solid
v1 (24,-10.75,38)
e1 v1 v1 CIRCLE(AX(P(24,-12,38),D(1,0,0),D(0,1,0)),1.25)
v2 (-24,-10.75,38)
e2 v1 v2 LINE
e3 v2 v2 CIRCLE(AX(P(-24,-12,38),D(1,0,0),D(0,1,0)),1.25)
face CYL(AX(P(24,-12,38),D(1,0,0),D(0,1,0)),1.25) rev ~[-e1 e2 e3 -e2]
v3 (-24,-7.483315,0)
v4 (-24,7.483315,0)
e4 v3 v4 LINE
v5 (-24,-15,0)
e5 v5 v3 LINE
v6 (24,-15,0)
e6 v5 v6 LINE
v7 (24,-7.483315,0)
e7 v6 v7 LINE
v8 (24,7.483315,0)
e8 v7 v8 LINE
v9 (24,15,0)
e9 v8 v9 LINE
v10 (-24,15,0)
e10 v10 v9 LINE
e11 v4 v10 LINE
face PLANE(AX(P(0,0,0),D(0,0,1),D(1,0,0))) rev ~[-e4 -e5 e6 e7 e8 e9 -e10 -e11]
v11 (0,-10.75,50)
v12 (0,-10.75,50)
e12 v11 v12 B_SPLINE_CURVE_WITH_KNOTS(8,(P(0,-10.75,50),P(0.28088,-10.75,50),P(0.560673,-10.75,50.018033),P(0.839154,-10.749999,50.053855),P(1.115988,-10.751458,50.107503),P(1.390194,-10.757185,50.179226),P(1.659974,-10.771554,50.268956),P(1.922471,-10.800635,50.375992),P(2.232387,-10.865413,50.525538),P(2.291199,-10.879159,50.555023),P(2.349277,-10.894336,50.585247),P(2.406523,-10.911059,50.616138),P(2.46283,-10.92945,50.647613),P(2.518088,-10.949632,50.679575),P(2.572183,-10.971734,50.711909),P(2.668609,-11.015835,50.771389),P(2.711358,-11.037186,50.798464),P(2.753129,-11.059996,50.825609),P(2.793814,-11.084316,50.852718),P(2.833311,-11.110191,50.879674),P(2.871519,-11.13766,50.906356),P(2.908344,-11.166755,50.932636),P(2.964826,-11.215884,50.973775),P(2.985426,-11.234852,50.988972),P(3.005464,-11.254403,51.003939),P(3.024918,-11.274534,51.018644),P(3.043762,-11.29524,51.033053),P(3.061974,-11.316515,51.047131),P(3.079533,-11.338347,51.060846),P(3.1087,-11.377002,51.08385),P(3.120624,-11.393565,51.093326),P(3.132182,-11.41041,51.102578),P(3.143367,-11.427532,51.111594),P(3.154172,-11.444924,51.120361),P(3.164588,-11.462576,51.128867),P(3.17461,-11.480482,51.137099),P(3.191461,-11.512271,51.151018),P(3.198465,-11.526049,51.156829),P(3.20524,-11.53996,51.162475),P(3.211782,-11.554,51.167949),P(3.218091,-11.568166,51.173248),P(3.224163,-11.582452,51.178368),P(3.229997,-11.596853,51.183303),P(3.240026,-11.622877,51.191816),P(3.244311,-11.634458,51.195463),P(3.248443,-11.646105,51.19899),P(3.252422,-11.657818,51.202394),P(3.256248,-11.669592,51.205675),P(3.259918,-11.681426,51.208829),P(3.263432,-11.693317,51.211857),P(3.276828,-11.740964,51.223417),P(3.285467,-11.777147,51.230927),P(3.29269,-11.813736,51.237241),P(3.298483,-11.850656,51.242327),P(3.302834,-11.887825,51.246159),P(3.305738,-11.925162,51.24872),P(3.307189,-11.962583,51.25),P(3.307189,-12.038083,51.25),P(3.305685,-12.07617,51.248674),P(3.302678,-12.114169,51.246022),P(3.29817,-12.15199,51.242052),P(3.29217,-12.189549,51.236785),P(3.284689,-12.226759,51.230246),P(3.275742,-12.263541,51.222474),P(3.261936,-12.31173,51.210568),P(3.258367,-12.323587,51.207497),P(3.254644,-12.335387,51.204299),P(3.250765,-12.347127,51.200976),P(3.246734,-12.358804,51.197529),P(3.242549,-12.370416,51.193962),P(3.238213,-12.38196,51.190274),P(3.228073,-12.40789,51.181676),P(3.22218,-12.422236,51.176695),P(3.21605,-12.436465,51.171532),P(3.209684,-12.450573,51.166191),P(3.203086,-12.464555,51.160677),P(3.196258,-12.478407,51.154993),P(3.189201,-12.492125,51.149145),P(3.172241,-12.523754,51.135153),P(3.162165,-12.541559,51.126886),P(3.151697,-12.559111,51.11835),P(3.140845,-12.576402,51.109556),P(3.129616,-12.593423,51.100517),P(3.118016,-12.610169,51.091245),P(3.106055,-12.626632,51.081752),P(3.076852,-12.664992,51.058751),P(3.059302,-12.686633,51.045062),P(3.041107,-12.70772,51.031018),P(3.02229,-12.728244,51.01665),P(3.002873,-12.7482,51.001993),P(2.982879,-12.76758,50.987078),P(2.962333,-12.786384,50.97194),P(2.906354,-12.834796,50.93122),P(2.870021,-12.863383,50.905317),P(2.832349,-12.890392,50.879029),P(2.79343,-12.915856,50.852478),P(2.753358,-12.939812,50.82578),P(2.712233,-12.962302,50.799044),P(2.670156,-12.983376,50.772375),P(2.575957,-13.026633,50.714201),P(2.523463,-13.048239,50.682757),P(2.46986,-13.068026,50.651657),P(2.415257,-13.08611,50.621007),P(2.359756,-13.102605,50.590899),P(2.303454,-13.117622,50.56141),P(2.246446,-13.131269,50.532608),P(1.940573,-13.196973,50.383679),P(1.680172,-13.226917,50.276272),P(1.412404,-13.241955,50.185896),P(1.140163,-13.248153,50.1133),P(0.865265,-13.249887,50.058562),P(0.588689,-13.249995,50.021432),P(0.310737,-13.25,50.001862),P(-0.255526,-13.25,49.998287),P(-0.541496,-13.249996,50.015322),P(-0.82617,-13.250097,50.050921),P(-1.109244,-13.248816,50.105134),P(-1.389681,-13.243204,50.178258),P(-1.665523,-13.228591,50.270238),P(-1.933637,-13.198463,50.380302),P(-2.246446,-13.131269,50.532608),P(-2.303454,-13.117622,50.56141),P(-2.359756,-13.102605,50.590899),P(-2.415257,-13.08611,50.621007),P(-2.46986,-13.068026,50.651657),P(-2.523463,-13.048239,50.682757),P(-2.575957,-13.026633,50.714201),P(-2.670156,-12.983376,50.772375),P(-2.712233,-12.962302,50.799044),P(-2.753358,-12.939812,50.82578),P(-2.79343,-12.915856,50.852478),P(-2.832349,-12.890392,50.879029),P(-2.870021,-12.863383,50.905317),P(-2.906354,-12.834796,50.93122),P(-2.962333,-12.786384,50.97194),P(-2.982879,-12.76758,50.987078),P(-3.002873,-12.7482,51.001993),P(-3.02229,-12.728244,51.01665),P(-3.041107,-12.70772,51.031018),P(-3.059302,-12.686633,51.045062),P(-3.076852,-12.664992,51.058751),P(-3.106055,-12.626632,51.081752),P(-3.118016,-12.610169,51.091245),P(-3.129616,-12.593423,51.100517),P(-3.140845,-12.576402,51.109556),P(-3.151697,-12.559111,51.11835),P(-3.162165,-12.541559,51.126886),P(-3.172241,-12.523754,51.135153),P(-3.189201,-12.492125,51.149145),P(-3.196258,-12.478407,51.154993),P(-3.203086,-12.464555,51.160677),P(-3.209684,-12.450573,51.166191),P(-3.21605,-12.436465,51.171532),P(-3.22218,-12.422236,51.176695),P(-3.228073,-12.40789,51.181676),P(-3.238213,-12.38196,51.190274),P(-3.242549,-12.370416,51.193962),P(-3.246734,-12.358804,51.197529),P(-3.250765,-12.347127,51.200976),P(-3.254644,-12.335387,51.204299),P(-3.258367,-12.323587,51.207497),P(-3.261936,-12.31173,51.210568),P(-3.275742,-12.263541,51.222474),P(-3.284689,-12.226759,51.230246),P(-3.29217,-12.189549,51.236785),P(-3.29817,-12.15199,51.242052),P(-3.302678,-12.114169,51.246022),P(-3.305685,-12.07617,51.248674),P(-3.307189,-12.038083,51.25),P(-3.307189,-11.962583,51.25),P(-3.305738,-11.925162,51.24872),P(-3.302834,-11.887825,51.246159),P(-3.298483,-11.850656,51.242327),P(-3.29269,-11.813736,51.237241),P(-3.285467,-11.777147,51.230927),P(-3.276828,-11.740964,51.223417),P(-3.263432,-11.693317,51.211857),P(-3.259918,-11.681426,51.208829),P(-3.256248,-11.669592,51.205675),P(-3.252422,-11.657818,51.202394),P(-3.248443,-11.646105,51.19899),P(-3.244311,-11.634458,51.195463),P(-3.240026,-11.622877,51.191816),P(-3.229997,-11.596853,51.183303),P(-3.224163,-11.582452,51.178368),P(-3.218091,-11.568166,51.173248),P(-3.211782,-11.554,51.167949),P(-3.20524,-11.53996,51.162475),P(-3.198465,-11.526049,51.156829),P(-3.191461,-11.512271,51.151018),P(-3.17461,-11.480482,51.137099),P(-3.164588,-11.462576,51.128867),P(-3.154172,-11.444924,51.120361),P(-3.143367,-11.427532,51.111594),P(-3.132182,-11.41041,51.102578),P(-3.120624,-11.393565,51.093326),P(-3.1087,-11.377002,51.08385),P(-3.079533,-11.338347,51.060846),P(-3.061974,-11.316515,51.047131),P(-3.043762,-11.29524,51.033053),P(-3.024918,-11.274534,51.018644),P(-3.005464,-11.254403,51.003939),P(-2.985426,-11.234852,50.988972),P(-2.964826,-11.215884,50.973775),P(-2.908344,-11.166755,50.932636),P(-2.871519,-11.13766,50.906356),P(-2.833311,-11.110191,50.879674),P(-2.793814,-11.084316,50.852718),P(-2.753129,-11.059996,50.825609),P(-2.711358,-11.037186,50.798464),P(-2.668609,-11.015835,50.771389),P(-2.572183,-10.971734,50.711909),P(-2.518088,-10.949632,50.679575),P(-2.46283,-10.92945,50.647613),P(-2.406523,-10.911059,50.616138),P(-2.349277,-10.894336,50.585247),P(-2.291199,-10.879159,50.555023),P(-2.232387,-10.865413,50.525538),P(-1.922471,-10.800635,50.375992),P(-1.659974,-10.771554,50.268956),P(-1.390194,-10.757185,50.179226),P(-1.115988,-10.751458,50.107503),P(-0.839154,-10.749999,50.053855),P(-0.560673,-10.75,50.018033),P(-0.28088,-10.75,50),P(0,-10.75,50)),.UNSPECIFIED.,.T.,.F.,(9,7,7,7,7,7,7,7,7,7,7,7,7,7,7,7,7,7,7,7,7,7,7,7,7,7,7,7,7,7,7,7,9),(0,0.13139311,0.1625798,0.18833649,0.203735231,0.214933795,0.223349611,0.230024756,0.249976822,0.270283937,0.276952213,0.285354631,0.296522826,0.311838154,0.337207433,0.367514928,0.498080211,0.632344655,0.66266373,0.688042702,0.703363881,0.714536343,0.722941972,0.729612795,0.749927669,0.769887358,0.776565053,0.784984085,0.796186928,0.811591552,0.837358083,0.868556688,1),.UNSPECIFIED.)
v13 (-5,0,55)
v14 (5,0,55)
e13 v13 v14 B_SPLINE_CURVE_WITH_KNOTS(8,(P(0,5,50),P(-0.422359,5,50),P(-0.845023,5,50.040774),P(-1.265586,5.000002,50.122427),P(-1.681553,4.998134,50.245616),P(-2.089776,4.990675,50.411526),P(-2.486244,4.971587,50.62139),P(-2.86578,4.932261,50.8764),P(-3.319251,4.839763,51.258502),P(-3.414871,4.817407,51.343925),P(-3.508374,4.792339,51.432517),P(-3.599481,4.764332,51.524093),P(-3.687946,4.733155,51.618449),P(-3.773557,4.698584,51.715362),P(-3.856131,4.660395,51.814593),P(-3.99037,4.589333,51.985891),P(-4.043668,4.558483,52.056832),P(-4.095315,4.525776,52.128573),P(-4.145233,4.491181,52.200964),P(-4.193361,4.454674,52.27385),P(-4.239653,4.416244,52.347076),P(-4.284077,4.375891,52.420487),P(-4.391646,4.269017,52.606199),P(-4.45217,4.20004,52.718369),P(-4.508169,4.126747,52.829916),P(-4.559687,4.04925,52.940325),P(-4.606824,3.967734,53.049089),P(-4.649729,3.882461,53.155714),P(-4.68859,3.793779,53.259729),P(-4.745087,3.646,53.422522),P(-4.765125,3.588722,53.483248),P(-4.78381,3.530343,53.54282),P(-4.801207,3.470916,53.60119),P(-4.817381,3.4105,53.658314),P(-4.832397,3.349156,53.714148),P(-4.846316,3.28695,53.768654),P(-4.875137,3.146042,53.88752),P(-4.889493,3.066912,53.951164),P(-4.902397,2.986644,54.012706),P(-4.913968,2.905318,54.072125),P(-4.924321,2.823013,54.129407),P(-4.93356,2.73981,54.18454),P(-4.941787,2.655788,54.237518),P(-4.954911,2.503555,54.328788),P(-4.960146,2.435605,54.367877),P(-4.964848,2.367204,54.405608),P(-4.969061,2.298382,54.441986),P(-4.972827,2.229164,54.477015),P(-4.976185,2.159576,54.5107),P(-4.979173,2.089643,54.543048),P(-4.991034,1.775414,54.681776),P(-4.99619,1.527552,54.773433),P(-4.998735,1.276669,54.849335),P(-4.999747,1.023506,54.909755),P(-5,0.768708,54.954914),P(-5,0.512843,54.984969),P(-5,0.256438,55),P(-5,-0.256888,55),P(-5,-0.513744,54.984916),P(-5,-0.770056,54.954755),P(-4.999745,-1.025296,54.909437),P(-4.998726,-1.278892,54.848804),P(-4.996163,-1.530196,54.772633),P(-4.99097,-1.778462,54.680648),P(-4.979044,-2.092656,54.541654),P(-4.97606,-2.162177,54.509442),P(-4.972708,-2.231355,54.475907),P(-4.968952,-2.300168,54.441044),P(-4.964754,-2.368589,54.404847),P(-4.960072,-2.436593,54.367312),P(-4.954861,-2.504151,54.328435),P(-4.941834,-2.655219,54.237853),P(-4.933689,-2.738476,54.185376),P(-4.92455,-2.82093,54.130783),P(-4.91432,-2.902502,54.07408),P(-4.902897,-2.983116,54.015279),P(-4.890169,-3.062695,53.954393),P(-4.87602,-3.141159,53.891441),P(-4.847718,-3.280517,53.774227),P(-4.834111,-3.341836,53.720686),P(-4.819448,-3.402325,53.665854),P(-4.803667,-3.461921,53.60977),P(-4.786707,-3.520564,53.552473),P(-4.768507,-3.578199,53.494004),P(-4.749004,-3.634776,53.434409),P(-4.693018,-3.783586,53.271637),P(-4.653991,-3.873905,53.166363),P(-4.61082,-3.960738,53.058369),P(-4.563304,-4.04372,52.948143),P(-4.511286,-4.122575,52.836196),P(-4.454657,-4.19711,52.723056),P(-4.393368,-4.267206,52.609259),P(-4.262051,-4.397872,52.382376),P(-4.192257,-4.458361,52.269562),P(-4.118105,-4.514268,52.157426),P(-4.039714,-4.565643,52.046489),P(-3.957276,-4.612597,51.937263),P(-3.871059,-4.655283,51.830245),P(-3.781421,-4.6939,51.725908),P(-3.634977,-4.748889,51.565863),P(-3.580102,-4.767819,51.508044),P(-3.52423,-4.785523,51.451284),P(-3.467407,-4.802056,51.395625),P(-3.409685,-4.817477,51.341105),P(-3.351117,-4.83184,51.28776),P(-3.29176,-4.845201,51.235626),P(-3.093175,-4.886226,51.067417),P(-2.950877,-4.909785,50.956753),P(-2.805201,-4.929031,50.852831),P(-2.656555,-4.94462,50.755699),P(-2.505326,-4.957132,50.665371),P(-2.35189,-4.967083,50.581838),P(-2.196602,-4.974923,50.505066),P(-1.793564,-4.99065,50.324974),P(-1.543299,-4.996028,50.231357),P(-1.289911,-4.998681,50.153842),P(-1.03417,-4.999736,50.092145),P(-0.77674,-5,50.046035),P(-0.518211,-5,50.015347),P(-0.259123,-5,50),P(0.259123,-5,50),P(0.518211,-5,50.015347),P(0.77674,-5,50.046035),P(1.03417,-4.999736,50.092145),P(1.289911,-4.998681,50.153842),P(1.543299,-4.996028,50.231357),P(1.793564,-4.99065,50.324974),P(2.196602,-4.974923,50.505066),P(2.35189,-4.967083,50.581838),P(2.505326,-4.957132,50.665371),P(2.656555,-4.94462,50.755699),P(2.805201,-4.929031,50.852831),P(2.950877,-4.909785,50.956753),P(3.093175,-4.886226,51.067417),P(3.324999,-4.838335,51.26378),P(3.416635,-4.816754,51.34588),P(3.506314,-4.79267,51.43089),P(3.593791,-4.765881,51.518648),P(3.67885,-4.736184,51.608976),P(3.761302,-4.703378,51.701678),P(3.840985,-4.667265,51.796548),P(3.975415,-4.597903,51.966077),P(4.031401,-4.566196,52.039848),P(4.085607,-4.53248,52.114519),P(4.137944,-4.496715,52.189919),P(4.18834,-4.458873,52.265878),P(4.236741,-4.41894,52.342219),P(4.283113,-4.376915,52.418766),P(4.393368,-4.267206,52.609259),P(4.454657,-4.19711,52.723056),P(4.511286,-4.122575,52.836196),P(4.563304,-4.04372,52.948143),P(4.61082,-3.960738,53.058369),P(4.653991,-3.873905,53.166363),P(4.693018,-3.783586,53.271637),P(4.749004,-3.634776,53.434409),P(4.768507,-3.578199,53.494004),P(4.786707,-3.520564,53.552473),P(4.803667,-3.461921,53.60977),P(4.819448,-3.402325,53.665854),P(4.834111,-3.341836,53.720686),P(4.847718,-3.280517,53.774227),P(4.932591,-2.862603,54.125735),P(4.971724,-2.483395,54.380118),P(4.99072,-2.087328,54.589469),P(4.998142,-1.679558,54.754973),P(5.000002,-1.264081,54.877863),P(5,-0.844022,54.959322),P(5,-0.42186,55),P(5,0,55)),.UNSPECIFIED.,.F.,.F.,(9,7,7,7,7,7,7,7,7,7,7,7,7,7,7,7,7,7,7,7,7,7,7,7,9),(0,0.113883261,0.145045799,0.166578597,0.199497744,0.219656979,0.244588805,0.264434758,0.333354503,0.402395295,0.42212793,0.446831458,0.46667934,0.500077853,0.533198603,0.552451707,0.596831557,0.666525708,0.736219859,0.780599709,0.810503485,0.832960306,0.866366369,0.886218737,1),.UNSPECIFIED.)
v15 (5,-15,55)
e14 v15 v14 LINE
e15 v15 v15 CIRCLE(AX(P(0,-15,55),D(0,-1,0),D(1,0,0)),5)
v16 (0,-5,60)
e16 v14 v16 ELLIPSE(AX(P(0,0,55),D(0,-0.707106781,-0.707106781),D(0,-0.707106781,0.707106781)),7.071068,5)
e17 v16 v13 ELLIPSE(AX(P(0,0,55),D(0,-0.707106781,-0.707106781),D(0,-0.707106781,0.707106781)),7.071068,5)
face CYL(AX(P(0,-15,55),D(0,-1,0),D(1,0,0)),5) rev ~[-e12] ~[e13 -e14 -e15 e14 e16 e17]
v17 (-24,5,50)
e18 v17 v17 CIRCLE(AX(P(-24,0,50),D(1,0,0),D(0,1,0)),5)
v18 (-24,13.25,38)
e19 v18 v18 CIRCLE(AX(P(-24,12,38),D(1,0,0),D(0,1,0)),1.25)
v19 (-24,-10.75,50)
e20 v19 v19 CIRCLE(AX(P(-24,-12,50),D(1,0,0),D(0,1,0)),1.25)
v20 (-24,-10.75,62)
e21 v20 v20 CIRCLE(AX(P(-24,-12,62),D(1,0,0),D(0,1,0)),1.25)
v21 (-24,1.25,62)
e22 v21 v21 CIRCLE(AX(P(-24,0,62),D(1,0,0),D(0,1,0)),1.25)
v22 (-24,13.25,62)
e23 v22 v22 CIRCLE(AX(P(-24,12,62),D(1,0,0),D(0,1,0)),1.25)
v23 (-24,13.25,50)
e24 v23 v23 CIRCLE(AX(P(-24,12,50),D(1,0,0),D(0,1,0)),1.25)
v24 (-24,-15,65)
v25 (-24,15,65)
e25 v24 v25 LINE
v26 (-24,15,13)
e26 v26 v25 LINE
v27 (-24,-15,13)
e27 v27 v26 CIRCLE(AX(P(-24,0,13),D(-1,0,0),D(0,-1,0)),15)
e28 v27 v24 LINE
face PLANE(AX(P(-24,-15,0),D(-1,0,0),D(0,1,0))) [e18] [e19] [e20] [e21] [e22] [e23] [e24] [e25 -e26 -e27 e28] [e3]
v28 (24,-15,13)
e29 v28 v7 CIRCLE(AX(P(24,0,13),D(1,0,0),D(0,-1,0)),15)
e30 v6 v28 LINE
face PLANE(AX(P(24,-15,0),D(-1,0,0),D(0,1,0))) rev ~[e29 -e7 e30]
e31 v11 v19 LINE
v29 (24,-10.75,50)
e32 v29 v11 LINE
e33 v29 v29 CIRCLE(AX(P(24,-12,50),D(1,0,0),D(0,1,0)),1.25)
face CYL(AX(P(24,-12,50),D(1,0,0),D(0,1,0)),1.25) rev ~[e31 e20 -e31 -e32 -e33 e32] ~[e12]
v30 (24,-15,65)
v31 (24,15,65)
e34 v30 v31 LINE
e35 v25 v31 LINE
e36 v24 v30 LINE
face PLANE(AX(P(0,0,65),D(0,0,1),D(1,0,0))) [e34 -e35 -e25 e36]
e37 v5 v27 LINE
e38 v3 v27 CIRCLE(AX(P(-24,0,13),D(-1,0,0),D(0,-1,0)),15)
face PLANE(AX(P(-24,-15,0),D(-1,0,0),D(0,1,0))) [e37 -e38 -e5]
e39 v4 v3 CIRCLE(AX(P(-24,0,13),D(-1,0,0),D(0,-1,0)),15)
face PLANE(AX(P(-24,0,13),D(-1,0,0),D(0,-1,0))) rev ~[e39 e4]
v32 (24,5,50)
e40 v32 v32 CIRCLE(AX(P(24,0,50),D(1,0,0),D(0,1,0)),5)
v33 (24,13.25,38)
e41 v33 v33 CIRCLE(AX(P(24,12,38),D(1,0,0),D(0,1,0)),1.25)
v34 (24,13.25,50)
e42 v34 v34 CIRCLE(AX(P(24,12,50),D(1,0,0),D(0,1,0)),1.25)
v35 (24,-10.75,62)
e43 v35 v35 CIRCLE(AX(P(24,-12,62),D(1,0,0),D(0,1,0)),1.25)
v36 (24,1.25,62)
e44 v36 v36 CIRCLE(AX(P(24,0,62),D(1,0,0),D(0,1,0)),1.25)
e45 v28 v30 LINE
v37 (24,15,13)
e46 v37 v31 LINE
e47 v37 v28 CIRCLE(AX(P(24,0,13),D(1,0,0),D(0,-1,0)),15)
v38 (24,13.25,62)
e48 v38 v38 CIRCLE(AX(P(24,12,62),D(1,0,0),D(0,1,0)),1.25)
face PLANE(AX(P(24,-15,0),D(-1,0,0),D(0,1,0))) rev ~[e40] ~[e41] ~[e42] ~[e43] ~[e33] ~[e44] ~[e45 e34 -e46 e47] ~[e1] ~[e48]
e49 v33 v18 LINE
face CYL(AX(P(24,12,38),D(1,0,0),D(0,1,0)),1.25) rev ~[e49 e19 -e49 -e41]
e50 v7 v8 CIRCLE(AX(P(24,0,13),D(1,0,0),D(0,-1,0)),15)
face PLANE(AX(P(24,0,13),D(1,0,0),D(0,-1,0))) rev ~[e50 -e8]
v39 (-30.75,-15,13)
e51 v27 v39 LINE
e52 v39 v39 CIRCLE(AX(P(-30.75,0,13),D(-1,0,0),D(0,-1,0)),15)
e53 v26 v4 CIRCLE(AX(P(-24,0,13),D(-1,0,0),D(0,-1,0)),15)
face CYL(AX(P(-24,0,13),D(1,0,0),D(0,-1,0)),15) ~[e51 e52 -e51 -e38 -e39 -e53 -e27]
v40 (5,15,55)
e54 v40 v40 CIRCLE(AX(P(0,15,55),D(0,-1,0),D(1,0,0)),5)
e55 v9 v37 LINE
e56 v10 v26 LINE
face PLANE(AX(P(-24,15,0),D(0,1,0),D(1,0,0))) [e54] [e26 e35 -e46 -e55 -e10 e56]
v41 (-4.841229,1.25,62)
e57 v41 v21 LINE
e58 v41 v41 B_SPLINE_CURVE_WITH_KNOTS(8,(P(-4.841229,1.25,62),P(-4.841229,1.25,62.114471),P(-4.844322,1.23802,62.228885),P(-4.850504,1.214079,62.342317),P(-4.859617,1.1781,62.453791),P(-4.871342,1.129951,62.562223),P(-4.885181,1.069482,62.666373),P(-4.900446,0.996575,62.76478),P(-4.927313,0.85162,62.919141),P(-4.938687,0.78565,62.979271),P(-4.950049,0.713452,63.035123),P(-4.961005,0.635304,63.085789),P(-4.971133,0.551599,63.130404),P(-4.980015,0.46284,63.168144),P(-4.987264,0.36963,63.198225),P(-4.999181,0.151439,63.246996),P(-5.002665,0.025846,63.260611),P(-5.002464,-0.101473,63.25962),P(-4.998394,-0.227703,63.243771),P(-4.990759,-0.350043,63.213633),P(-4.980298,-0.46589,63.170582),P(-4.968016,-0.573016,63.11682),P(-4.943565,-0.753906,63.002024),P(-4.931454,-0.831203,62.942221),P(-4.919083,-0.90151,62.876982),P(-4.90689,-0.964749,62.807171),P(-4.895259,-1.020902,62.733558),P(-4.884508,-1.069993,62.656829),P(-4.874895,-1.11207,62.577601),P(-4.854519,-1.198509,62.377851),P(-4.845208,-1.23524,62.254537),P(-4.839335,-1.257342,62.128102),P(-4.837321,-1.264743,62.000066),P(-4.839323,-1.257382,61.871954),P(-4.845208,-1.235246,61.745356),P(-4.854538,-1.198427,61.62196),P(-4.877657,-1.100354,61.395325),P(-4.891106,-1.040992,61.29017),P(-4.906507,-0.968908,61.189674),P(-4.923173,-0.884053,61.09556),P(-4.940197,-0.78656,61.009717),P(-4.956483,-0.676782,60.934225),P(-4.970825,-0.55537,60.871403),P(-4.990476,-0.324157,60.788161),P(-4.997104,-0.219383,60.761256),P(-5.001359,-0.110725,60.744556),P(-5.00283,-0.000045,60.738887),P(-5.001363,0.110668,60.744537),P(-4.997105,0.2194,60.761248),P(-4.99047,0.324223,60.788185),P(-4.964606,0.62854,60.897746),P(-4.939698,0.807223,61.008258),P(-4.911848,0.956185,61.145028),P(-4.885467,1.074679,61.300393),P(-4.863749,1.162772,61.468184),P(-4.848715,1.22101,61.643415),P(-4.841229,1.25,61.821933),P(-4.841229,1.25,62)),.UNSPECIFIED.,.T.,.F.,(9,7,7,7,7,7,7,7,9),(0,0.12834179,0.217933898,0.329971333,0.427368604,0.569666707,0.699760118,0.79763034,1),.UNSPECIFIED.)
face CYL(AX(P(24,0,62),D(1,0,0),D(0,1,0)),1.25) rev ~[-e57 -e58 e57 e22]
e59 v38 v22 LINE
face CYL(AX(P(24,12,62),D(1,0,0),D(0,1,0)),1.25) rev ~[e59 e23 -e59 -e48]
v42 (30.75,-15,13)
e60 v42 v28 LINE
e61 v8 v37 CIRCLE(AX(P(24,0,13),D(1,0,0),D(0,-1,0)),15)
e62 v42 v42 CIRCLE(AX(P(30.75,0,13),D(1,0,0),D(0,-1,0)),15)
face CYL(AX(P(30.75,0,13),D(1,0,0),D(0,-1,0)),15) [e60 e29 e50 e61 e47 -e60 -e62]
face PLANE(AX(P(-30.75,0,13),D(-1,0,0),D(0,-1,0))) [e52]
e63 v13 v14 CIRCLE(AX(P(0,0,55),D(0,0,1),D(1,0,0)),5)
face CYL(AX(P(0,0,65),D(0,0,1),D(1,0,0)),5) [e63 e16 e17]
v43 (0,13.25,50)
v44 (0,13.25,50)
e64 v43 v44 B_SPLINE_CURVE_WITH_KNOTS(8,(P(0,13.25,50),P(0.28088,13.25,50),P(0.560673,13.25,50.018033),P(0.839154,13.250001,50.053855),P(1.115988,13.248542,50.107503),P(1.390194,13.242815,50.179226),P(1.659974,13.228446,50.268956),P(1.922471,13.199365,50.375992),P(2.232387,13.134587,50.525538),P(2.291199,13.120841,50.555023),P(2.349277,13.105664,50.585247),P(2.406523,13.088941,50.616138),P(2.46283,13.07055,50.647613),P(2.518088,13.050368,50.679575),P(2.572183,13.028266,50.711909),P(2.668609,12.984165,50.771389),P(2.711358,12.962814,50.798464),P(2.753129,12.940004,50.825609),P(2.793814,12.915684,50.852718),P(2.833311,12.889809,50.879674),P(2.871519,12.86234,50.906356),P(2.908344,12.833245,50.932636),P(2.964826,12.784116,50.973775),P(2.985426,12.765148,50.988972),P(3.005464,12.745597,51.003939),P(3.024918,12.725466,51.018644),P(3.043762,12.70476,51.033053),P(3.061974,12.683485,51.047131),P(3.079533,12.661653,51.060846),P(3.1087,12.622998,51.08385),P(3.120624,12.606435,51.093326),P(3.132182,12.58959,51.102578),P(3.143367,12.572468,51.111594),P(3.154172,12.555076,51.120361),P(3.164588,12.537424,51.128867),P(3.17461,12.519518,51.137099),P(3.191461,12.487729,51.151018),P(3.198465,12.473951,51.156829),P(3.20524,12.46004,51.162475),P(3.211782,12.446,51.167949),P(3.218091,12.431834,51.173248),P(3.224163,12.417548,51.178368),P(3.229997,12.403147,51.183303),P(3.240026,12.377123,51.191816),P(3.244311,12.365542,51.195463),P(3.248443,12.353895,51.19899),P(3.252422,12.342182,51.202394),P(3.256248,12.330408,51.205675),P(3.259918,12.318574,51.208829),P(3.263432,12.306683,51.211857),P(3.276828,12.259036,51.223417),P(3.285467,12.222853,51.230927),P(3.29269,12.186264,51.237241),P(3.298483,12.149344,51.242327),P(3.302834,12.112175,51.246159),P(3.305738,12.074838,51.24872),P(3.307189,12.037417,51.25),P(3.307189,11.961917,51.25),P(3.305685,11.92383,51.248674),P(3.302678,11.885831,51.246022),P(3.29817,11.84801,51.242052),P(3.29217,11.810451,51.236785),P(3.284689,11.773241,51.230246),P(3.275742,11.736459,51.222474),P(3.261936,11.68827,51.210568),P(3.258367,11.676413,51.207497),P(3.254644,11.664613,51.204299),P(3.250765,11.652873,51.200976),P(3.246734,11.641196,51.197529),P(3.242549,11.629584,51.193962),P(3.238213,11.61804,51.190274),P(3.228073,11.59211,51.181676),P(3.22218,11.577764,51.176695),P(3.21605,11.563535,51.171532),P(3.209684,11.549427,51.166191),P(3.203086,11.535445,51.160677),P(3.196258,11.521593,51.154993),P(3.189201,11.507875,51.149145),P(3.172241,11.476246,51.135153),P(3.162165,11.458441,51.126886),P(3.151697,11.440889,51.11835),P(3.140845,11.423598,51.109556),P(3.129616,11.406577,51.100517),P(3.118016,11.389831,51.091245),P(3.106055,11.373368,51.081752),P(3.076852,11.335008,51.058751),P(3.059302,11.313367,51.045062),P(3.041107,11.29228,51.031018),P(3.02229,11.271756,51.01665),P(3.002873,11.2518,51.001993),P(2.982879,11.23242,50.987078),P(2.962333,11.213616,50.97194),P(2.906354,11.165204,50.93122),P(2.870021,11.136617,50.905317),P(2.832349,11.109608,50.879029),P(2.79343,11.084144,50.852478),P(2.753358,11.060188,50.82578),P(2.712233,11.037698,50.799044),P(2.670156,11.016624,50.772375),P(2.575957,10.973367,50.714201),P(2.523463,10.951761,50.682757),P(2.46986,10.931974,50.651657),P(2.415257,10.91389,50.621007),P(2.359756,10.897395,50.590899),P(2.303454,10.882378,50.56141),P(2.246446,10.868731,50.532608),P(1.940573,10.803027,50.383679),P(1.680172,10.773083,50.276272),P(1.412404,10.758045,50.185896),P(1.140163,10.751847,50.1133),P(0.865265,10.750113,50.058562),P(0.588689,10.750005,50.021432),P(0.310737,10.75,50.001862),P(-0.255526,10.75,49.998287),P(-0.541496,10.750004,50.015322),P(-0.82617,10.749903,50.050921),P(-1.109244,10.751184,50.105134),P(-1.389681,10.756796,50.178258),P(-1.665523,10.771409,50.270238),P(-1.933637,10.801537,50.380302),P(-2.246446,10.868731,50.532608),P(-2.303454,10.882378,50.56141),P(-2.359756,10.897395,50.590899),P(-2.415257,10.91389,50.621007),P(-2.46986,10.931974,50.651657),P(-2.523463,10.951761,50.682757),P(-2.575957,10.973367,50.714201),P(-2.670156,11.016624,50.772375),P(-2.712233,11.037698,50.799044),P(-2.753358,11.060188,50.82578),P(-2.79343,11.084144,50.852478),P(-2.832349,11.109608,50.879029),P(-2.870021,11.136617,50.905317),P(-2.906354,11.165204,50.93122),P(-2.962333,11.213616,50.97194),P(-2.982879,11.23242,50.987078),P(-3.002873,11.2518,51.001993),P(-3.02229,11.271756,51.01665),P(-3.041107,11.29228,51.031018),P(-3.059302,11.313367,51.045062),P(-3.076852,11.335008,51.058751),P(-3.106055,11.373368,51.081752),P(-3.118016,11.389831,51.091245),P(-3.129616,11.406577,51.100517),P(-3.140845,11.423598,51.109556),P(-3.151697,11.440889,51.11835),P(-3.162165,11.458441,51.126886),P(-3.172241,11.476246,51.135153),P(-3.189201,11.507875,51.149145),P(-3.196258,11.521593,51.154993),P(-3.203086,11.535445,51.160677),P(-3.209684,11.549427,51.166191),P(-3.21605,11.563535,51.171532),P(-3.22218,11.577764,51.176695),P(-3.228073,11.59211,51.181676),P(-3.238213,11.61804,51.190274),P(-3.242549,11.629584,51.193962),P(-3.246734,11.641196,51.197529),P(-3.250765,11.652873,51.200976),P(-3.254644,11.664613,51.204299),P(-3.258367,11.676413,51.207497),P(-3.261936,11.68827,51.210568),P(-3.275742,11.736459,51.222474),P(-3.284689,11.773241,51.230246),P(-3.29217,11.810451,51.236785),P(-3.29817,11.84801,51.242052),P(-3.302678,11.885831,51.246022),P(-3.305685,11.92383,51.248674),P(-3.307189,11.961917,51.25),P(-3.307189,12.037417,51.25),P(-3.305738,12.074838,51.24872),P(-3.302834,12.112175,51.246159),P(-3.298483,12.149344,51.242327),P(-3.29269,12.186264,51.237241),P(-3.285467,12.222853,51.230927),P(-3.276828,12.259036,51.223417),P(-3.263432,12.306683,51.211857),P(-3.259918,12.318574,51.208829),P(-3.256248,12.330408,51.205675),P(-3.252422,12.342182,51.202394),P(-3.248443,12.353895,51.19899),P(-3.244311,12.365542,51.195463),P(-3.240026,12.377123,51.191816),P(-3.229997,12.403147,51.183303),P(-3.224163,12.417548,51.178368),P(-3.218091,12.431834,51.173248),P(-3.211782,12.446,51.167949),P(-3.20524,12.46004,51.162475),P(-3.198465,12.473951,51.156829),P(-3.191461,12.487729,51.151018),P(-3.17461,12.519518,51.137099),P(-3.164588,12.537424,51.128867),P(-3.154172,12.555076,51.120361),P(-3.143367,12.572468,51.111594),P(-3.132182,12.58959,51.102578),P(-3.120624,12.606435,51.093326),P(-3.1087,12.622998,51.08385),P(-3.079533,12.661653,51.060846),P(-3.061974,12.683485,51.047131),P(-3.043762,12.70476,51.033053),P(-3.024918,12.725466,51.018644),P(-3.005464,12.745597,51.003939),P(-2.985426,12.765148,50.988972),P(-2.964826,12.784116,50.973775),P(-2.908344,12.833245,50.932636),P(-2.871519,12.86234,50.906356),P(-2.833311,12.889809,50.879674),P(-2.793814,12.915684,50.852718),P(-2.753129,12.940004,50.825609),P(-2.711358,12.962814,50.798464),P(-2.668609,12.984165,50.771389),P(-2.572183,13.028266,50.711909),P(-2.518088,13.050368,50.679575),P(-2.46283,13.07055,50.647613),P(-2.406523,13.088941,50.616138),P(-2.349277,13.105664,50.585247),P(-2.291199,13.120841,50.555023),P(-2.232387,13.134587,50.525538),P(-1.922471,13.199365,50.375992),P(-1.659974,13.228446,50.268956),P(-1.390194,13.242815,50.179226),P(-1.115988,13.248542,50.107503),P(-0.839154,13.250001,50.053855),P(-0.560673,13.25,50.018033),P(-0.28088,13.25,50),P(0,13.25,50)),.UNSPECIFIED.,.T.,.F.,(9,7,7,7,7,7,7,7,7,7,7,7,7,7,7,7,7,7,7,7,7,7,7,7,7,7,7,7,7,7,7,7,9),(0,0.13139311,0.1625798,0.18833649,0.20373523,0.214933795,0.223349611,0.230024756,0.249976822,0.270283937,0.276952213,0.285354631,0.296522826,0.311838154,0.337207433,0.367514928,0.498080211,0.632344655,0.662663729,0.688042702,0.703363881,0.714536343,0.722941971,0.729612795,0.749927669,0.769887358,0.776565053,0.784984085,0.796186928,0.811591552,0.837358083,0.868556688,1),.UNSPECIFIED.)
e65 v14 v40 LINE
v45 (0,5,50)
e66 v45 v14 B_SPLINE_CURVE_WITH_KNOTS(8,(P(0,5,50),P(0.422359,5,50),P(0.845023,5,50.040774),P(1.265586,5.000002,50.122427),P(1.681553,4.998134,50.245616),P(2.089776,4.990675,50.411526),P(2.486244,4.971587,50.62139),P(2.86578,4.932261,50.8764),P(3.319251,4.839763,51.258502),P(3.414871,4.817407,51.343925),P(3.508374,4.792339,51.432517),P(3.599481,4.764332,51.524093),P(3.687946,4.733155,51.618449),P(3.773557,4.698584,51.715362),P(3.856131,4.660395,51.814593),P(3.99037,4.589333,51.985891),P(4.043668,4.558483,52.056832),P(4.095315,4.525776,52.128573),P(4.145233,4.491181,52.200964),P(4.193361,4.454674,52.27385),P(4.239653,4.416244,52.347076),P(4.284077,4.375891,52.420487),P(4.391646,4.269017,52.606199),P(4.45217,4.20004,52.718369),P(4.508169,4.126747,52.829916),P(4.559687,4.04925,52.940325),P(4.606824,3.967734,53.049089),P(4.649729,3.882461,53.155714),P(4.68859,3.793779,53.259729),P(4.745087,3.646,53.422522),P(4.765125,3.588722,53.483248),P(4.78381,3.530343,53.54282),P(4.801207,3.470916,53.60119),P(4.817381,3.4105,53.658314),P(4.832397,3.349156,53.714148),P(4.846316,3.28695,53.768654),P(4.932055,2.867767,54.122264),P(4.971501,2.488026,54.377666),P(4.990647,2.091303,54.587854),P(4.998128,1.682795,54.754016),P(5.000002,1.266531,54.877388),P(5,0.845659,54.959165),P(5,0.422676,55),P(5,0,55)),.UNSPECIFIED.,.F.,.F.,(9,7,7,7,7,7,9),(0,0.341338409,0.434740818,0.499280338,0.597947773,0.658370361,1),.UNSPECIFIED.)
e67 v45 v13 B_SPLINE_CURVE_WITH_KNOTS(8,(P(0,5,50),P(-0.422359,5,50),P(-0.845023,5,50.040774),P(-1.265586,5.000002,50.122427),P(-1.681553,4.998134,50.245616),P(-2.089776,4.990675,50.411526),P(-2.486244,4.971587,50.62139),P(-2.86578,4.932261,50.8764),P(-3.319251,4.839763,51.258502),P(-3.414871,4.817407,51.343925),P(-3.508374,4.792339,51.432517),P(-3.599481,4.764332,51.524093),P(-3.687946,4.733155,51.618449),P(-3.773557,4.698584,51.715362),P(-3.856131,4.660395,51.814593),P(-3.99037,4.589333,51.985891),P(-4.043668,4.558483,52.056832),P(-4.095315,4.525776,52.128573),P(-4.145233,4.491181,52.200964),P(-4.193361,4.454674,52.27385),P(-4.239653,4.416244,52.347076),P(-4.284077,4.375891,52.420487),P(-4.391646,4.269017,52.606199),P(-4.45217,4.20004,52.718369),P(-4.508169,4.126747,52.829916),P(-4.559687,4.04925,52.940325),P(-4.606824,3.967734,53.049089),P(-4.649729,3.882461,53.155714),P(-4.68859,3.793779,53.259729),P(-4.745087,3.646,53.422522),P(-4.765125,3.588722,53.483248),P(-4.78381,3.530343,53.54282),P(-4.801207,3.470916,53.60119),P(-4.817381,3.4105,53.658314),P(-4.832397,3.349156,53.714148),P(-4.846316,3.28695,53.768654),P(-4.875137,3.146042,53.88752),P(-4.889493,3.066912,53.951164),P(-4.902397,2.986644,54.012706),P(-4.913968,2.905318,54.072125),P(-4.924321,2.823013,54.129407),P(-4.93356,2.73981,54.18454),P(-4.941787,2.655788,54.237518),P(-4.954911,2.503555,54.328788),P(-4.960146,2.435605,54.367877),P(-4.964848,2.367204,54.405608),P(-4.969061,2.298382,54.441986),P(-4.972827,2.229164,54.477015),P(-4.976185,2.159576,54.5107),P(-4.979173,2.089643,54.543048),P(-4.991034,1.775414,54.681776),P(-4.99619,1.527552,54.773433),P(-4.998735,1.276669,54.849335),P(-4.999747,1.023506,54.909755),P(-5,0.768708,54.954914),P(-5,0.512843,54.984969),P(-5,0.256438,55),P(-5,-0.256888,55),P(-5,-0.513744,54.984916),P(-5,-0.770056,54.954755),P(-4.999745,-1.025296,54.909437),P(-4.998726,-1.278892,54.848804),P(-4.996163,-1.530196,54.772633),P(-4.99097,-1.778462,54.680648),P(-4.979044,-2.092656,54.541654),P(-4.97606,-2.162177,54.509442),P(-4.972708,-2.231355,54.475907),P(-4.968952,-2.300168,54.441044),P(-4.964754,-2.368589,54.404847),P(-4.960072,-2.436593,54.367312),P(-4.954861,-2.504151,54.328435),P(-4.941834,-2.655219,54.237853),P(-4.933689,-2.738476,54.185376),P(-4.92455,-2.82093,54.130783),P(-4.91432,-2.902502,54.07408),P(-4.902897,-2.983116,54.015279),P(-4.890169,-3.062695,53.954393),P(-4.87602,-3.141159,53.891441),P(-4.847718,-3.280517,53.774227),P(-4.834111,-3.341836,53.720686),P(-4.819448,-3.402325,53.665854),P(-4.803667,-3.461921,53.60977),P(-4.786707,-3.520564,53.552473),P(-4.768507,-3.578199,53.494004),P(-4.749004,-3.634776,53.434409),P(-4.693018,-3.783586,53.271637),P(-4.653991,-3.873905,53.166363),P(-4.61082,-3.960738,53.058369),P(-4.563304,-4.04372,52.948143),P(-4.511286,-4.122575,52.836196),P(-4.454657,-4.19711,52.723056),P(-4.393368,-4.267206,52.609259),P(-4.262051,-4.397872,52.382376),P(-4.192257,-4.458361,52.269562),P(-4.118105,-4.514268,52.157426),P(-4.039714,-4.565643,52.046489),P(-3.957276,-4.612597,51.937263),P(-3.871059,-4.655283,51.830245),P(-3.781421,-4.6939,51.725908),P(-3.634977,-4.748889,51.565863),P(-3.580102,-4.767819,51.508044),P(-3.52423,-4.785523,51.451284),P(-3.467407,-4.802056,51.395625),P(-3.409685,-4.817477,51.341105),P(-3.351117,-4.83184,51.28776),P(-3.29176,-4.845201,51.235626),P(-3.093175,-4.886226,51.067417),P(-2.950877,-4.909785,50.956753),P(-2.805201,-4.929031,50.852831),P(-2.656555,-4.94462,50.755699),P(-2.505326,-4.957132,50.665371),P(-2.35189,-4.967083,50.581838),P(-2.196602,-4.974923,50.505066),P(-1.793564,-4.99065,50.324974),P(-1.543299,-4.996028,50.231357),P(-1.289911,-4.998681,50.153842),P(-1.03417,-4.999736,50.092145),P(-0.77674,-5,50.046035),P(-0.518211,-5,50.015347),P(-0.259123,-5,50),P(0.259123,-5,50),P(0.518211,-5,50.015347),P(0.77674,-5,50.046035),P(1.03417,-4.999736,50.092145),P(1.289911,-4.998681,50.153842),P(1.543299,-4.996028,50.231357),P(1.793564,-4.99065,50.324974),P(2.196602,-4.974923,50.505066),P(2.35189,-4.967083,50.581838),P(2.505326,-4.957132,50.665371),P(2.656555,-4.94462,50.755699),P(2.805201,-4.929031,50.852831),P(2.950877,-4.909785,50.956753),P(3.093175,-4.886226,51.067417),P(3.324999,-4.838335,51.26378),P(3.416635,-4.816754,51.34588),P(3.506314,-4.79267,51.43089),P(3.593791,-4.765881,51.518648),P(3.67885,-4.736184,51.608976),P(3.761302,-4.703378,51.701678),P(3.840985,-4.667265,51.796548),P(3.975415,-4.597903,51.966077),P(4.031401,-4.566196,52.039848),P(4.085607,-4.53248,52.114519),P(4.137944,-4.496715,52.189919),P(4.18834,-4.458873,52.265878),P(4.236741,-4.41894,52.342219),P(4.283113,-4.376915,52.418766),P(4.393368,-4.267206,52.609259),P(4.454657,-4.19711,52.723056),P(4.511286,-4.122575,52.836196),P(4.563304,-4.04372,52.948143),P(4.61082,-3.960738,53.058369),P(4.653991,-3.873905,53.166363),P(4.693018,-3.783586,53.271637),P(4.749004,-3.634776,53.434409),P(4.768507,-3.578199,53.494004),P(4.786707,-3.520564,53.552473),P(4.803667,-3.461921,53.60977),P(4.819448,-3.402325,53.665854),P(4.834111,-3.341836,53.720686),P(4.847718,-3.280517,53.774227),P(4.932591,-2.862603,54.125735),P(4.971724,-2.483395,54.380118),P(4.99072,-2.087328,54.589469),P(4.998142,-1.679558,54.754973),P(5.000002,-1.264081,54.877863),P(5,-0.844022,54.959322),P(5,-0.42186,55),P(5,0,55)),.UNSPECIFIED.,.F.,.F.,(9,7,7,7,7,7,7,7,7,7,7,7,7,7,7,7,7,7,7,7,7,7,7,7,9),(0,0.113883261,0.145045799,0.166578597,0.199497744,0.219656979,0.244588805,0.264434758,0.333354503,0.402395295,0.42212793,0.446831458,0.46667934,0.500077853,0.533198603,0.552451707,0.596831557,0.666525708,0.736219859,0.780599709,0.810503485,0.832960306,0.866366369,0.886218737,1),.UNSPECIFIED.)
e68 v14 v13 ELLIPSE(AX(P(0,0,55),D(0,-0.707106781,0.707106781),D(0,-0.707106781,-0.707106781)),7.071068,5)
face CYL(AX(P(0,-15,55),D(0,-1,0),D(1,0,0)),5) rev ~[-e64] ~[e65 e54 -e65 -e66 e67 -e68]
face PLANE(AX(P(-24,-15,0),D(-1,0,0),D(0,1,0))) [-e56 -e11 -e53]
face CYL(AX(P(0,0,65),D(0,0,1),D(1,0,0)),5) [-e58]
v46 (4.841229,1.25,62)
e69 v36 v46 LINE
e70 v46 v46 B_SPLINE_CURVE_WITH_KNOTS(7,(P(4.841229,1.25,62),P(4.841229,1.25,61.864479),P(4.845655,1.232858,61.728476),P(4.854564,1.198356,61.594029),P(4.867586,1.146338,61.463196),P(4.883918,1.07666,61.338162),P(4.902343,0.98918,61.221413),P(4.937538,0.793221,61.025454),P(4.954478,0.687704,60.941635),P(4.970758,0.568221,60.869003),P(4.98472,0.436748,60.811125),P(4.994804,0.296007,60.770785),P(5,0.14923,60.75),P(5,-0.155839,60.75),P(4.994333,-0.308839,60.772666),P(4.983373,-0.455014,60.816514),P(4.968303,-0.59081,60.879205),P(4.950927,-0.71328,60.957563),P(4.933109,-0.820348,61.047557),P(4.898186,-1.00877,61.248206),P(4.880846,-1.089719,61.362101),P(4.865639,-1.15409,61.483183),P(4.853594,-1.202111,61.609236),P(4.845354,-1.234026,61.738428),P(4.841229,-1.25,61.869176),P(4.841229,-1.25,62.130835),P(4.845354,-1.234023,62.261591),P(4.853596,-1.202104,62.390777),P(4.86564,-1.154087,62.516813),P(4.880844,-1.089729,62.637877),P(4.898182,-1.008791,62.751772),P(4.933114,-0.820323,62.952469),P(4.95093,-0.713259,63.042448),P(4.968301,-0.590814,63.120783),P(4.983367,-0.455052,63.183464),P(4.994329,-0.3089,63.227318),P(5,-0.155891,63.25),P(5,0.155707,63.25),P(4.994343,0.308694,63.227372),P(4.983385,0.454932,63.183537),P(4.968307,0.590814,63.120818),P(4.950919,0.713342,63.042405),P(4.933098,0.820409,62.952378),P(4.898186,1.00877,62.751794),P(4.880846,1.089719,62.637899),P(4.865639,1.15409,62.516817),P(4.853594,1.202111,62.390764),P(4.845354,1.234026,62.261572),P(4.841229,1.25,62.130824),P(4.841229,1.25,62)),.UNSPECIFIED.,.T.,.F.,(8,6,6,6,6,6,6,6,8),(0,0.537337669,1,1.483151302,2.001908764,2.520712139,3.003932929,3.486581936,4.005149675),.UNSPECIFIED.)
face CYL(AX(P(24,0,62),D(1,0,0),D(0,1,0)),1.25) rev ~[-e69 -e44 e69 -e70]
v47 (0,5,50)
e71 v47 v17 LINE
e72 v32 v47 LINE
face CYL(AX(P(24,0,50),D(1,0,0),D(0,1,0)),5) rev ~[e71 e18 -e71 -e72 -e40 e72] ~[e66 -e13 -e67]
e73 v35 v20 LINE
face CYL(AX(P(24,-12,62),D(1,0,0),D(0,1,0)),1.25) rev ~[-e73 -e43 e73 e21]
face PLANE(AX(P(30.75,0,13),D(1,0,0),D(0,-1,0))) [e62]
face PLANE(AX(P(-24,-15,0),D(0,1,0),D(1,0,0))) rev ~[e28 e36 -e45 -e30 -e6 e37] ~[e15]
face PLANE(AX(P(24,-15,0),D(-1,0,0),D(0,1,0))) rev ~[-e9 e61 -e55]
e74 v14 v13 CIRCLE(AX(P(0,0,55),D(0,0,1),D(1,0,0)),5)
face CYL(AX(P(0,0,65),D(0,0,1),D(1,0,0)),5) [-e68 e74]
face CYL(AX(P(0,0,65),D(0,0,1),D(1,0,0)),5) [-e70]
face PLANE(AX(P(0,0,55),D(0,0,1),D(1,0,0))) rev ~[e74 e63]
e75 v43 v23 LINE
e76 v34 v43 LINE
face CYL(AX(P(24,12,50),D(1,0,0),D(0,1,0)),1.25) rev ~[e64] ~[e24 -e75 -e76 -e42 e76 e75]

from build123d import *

# Parameters (mm, degrees)
SKETCH_1_W          = 48
SKETCH_1_H          = 30
EXTRUDE_1_DEPTH     = 65
SKETCH_2_R          = 15
EXTRUDE_2_DEPTH     = 6.75
EXTRUDE_START       = 6.75
SKETCH_3_R          = 15
EXTRUDE_3_DEPTH     = 6.75
SKETCH_4_R          = 1.25
SKETCH_4_R_2        = 5
CUT_EXTRUDE_1_DEPTH = 87.299261295
SKETCH_5_R          = 5
CUT_EXTRUDE_2_DEPTH = 33
SKETCH_6_R          = 5
EXTRUDE_4_DEPTH     = 10


with BuildPart() as part:
    # 草图1 → 凸台-拉伸1 (new body)
    with BuildSketch(Plane.XY):
        Rectangle(SKETCH_1_W, SKETCH_1_H)
    extrude(amount=EXTRUDE_1_DEPTH)

    # 草图2 → 凸台-拉伸2 (add)
    with BuildSketch(Plane.ZY.offset(24)):
        with Locations(Location((13, 0, 0), (0, 0, 270))):
            Circle(SKETCH_2_R)
    extrude(amount=EXTRUDE_2_DEPTH)

    # 草图3 → 凸台-拉伸3 (add)
    with BuildSketch(Plane(origin=(24, 0, 0), x_dir=(0, 0, -1), z_dir=(1, 0, 0)).offset(EXTRUDE_START)):
        with Locations(Location((-13, 0, 0), (0, 0, 270))):
            Circle(SKETCH_3_R)
    extrude(amount=-EXTRUDE_3_DEPTH)

    # 草图4 → 切除-拉伸1 (cut, through all)
    with BuildSketch(Plane(origin=(24, 0, 0), x_dir=(0, 0, -1), z_dir=(1, 0, 0))):
        with Locations(Location((-62, 12, 0), (0, 0, 90))):
            Circle(SKETCH_4_R)
        with Locations(Location((-38, 12, 0), (0, 0, 90))):
            Circle(SKETCH_4_R)
        with Locations(Location((-38, -12, 0), (0, 0, 90))):
            Circle(SKETCH_4_R)
        with Locations(Location((-62, -12, 0), (0, 0, 90))):
            Circle(SKETCH_4_R)
        with Locations(Location((-50, 12, 0), (0, 0, 90))):
            Circle(SKETCH_4_R)
        with Locations(Location((-50, -12, 0), (0, 0, 90))):
            Circle(SKETCH_4_R)
        with Locations(Location((-62, 0, 0), (0, 0, 90))):
            Circle(SKETCH_4_R)
        with Locations(Location((-50, 0, 0), (0, 0, 90))):
            Circle(SKETCH_4_R_2)
    extrude(amount=-CUT_EXTRUDE_1_DEPTH, mode=Mode.SUBTRACT)

    # 草图5 → 切除-拉伸2 (cut)
    with BuildSketch(Plane.XZ.offset(15)):
        with Locations((0, 55)):
            Circle(SKETCH_5_R)
    extrude(amount=-CUT_EXTRUDE_2_DEPTH, mode=Mode.SUBTRACT)

    # 草图6 → 凸台-拉伸4 (add)
    with BuildSketch(Plane.XY.offset(65)):
        Circle(SKETCH_6_R)
    extrude(amount=-EXTRUDE_4_DEPTH)


solid = part.part
